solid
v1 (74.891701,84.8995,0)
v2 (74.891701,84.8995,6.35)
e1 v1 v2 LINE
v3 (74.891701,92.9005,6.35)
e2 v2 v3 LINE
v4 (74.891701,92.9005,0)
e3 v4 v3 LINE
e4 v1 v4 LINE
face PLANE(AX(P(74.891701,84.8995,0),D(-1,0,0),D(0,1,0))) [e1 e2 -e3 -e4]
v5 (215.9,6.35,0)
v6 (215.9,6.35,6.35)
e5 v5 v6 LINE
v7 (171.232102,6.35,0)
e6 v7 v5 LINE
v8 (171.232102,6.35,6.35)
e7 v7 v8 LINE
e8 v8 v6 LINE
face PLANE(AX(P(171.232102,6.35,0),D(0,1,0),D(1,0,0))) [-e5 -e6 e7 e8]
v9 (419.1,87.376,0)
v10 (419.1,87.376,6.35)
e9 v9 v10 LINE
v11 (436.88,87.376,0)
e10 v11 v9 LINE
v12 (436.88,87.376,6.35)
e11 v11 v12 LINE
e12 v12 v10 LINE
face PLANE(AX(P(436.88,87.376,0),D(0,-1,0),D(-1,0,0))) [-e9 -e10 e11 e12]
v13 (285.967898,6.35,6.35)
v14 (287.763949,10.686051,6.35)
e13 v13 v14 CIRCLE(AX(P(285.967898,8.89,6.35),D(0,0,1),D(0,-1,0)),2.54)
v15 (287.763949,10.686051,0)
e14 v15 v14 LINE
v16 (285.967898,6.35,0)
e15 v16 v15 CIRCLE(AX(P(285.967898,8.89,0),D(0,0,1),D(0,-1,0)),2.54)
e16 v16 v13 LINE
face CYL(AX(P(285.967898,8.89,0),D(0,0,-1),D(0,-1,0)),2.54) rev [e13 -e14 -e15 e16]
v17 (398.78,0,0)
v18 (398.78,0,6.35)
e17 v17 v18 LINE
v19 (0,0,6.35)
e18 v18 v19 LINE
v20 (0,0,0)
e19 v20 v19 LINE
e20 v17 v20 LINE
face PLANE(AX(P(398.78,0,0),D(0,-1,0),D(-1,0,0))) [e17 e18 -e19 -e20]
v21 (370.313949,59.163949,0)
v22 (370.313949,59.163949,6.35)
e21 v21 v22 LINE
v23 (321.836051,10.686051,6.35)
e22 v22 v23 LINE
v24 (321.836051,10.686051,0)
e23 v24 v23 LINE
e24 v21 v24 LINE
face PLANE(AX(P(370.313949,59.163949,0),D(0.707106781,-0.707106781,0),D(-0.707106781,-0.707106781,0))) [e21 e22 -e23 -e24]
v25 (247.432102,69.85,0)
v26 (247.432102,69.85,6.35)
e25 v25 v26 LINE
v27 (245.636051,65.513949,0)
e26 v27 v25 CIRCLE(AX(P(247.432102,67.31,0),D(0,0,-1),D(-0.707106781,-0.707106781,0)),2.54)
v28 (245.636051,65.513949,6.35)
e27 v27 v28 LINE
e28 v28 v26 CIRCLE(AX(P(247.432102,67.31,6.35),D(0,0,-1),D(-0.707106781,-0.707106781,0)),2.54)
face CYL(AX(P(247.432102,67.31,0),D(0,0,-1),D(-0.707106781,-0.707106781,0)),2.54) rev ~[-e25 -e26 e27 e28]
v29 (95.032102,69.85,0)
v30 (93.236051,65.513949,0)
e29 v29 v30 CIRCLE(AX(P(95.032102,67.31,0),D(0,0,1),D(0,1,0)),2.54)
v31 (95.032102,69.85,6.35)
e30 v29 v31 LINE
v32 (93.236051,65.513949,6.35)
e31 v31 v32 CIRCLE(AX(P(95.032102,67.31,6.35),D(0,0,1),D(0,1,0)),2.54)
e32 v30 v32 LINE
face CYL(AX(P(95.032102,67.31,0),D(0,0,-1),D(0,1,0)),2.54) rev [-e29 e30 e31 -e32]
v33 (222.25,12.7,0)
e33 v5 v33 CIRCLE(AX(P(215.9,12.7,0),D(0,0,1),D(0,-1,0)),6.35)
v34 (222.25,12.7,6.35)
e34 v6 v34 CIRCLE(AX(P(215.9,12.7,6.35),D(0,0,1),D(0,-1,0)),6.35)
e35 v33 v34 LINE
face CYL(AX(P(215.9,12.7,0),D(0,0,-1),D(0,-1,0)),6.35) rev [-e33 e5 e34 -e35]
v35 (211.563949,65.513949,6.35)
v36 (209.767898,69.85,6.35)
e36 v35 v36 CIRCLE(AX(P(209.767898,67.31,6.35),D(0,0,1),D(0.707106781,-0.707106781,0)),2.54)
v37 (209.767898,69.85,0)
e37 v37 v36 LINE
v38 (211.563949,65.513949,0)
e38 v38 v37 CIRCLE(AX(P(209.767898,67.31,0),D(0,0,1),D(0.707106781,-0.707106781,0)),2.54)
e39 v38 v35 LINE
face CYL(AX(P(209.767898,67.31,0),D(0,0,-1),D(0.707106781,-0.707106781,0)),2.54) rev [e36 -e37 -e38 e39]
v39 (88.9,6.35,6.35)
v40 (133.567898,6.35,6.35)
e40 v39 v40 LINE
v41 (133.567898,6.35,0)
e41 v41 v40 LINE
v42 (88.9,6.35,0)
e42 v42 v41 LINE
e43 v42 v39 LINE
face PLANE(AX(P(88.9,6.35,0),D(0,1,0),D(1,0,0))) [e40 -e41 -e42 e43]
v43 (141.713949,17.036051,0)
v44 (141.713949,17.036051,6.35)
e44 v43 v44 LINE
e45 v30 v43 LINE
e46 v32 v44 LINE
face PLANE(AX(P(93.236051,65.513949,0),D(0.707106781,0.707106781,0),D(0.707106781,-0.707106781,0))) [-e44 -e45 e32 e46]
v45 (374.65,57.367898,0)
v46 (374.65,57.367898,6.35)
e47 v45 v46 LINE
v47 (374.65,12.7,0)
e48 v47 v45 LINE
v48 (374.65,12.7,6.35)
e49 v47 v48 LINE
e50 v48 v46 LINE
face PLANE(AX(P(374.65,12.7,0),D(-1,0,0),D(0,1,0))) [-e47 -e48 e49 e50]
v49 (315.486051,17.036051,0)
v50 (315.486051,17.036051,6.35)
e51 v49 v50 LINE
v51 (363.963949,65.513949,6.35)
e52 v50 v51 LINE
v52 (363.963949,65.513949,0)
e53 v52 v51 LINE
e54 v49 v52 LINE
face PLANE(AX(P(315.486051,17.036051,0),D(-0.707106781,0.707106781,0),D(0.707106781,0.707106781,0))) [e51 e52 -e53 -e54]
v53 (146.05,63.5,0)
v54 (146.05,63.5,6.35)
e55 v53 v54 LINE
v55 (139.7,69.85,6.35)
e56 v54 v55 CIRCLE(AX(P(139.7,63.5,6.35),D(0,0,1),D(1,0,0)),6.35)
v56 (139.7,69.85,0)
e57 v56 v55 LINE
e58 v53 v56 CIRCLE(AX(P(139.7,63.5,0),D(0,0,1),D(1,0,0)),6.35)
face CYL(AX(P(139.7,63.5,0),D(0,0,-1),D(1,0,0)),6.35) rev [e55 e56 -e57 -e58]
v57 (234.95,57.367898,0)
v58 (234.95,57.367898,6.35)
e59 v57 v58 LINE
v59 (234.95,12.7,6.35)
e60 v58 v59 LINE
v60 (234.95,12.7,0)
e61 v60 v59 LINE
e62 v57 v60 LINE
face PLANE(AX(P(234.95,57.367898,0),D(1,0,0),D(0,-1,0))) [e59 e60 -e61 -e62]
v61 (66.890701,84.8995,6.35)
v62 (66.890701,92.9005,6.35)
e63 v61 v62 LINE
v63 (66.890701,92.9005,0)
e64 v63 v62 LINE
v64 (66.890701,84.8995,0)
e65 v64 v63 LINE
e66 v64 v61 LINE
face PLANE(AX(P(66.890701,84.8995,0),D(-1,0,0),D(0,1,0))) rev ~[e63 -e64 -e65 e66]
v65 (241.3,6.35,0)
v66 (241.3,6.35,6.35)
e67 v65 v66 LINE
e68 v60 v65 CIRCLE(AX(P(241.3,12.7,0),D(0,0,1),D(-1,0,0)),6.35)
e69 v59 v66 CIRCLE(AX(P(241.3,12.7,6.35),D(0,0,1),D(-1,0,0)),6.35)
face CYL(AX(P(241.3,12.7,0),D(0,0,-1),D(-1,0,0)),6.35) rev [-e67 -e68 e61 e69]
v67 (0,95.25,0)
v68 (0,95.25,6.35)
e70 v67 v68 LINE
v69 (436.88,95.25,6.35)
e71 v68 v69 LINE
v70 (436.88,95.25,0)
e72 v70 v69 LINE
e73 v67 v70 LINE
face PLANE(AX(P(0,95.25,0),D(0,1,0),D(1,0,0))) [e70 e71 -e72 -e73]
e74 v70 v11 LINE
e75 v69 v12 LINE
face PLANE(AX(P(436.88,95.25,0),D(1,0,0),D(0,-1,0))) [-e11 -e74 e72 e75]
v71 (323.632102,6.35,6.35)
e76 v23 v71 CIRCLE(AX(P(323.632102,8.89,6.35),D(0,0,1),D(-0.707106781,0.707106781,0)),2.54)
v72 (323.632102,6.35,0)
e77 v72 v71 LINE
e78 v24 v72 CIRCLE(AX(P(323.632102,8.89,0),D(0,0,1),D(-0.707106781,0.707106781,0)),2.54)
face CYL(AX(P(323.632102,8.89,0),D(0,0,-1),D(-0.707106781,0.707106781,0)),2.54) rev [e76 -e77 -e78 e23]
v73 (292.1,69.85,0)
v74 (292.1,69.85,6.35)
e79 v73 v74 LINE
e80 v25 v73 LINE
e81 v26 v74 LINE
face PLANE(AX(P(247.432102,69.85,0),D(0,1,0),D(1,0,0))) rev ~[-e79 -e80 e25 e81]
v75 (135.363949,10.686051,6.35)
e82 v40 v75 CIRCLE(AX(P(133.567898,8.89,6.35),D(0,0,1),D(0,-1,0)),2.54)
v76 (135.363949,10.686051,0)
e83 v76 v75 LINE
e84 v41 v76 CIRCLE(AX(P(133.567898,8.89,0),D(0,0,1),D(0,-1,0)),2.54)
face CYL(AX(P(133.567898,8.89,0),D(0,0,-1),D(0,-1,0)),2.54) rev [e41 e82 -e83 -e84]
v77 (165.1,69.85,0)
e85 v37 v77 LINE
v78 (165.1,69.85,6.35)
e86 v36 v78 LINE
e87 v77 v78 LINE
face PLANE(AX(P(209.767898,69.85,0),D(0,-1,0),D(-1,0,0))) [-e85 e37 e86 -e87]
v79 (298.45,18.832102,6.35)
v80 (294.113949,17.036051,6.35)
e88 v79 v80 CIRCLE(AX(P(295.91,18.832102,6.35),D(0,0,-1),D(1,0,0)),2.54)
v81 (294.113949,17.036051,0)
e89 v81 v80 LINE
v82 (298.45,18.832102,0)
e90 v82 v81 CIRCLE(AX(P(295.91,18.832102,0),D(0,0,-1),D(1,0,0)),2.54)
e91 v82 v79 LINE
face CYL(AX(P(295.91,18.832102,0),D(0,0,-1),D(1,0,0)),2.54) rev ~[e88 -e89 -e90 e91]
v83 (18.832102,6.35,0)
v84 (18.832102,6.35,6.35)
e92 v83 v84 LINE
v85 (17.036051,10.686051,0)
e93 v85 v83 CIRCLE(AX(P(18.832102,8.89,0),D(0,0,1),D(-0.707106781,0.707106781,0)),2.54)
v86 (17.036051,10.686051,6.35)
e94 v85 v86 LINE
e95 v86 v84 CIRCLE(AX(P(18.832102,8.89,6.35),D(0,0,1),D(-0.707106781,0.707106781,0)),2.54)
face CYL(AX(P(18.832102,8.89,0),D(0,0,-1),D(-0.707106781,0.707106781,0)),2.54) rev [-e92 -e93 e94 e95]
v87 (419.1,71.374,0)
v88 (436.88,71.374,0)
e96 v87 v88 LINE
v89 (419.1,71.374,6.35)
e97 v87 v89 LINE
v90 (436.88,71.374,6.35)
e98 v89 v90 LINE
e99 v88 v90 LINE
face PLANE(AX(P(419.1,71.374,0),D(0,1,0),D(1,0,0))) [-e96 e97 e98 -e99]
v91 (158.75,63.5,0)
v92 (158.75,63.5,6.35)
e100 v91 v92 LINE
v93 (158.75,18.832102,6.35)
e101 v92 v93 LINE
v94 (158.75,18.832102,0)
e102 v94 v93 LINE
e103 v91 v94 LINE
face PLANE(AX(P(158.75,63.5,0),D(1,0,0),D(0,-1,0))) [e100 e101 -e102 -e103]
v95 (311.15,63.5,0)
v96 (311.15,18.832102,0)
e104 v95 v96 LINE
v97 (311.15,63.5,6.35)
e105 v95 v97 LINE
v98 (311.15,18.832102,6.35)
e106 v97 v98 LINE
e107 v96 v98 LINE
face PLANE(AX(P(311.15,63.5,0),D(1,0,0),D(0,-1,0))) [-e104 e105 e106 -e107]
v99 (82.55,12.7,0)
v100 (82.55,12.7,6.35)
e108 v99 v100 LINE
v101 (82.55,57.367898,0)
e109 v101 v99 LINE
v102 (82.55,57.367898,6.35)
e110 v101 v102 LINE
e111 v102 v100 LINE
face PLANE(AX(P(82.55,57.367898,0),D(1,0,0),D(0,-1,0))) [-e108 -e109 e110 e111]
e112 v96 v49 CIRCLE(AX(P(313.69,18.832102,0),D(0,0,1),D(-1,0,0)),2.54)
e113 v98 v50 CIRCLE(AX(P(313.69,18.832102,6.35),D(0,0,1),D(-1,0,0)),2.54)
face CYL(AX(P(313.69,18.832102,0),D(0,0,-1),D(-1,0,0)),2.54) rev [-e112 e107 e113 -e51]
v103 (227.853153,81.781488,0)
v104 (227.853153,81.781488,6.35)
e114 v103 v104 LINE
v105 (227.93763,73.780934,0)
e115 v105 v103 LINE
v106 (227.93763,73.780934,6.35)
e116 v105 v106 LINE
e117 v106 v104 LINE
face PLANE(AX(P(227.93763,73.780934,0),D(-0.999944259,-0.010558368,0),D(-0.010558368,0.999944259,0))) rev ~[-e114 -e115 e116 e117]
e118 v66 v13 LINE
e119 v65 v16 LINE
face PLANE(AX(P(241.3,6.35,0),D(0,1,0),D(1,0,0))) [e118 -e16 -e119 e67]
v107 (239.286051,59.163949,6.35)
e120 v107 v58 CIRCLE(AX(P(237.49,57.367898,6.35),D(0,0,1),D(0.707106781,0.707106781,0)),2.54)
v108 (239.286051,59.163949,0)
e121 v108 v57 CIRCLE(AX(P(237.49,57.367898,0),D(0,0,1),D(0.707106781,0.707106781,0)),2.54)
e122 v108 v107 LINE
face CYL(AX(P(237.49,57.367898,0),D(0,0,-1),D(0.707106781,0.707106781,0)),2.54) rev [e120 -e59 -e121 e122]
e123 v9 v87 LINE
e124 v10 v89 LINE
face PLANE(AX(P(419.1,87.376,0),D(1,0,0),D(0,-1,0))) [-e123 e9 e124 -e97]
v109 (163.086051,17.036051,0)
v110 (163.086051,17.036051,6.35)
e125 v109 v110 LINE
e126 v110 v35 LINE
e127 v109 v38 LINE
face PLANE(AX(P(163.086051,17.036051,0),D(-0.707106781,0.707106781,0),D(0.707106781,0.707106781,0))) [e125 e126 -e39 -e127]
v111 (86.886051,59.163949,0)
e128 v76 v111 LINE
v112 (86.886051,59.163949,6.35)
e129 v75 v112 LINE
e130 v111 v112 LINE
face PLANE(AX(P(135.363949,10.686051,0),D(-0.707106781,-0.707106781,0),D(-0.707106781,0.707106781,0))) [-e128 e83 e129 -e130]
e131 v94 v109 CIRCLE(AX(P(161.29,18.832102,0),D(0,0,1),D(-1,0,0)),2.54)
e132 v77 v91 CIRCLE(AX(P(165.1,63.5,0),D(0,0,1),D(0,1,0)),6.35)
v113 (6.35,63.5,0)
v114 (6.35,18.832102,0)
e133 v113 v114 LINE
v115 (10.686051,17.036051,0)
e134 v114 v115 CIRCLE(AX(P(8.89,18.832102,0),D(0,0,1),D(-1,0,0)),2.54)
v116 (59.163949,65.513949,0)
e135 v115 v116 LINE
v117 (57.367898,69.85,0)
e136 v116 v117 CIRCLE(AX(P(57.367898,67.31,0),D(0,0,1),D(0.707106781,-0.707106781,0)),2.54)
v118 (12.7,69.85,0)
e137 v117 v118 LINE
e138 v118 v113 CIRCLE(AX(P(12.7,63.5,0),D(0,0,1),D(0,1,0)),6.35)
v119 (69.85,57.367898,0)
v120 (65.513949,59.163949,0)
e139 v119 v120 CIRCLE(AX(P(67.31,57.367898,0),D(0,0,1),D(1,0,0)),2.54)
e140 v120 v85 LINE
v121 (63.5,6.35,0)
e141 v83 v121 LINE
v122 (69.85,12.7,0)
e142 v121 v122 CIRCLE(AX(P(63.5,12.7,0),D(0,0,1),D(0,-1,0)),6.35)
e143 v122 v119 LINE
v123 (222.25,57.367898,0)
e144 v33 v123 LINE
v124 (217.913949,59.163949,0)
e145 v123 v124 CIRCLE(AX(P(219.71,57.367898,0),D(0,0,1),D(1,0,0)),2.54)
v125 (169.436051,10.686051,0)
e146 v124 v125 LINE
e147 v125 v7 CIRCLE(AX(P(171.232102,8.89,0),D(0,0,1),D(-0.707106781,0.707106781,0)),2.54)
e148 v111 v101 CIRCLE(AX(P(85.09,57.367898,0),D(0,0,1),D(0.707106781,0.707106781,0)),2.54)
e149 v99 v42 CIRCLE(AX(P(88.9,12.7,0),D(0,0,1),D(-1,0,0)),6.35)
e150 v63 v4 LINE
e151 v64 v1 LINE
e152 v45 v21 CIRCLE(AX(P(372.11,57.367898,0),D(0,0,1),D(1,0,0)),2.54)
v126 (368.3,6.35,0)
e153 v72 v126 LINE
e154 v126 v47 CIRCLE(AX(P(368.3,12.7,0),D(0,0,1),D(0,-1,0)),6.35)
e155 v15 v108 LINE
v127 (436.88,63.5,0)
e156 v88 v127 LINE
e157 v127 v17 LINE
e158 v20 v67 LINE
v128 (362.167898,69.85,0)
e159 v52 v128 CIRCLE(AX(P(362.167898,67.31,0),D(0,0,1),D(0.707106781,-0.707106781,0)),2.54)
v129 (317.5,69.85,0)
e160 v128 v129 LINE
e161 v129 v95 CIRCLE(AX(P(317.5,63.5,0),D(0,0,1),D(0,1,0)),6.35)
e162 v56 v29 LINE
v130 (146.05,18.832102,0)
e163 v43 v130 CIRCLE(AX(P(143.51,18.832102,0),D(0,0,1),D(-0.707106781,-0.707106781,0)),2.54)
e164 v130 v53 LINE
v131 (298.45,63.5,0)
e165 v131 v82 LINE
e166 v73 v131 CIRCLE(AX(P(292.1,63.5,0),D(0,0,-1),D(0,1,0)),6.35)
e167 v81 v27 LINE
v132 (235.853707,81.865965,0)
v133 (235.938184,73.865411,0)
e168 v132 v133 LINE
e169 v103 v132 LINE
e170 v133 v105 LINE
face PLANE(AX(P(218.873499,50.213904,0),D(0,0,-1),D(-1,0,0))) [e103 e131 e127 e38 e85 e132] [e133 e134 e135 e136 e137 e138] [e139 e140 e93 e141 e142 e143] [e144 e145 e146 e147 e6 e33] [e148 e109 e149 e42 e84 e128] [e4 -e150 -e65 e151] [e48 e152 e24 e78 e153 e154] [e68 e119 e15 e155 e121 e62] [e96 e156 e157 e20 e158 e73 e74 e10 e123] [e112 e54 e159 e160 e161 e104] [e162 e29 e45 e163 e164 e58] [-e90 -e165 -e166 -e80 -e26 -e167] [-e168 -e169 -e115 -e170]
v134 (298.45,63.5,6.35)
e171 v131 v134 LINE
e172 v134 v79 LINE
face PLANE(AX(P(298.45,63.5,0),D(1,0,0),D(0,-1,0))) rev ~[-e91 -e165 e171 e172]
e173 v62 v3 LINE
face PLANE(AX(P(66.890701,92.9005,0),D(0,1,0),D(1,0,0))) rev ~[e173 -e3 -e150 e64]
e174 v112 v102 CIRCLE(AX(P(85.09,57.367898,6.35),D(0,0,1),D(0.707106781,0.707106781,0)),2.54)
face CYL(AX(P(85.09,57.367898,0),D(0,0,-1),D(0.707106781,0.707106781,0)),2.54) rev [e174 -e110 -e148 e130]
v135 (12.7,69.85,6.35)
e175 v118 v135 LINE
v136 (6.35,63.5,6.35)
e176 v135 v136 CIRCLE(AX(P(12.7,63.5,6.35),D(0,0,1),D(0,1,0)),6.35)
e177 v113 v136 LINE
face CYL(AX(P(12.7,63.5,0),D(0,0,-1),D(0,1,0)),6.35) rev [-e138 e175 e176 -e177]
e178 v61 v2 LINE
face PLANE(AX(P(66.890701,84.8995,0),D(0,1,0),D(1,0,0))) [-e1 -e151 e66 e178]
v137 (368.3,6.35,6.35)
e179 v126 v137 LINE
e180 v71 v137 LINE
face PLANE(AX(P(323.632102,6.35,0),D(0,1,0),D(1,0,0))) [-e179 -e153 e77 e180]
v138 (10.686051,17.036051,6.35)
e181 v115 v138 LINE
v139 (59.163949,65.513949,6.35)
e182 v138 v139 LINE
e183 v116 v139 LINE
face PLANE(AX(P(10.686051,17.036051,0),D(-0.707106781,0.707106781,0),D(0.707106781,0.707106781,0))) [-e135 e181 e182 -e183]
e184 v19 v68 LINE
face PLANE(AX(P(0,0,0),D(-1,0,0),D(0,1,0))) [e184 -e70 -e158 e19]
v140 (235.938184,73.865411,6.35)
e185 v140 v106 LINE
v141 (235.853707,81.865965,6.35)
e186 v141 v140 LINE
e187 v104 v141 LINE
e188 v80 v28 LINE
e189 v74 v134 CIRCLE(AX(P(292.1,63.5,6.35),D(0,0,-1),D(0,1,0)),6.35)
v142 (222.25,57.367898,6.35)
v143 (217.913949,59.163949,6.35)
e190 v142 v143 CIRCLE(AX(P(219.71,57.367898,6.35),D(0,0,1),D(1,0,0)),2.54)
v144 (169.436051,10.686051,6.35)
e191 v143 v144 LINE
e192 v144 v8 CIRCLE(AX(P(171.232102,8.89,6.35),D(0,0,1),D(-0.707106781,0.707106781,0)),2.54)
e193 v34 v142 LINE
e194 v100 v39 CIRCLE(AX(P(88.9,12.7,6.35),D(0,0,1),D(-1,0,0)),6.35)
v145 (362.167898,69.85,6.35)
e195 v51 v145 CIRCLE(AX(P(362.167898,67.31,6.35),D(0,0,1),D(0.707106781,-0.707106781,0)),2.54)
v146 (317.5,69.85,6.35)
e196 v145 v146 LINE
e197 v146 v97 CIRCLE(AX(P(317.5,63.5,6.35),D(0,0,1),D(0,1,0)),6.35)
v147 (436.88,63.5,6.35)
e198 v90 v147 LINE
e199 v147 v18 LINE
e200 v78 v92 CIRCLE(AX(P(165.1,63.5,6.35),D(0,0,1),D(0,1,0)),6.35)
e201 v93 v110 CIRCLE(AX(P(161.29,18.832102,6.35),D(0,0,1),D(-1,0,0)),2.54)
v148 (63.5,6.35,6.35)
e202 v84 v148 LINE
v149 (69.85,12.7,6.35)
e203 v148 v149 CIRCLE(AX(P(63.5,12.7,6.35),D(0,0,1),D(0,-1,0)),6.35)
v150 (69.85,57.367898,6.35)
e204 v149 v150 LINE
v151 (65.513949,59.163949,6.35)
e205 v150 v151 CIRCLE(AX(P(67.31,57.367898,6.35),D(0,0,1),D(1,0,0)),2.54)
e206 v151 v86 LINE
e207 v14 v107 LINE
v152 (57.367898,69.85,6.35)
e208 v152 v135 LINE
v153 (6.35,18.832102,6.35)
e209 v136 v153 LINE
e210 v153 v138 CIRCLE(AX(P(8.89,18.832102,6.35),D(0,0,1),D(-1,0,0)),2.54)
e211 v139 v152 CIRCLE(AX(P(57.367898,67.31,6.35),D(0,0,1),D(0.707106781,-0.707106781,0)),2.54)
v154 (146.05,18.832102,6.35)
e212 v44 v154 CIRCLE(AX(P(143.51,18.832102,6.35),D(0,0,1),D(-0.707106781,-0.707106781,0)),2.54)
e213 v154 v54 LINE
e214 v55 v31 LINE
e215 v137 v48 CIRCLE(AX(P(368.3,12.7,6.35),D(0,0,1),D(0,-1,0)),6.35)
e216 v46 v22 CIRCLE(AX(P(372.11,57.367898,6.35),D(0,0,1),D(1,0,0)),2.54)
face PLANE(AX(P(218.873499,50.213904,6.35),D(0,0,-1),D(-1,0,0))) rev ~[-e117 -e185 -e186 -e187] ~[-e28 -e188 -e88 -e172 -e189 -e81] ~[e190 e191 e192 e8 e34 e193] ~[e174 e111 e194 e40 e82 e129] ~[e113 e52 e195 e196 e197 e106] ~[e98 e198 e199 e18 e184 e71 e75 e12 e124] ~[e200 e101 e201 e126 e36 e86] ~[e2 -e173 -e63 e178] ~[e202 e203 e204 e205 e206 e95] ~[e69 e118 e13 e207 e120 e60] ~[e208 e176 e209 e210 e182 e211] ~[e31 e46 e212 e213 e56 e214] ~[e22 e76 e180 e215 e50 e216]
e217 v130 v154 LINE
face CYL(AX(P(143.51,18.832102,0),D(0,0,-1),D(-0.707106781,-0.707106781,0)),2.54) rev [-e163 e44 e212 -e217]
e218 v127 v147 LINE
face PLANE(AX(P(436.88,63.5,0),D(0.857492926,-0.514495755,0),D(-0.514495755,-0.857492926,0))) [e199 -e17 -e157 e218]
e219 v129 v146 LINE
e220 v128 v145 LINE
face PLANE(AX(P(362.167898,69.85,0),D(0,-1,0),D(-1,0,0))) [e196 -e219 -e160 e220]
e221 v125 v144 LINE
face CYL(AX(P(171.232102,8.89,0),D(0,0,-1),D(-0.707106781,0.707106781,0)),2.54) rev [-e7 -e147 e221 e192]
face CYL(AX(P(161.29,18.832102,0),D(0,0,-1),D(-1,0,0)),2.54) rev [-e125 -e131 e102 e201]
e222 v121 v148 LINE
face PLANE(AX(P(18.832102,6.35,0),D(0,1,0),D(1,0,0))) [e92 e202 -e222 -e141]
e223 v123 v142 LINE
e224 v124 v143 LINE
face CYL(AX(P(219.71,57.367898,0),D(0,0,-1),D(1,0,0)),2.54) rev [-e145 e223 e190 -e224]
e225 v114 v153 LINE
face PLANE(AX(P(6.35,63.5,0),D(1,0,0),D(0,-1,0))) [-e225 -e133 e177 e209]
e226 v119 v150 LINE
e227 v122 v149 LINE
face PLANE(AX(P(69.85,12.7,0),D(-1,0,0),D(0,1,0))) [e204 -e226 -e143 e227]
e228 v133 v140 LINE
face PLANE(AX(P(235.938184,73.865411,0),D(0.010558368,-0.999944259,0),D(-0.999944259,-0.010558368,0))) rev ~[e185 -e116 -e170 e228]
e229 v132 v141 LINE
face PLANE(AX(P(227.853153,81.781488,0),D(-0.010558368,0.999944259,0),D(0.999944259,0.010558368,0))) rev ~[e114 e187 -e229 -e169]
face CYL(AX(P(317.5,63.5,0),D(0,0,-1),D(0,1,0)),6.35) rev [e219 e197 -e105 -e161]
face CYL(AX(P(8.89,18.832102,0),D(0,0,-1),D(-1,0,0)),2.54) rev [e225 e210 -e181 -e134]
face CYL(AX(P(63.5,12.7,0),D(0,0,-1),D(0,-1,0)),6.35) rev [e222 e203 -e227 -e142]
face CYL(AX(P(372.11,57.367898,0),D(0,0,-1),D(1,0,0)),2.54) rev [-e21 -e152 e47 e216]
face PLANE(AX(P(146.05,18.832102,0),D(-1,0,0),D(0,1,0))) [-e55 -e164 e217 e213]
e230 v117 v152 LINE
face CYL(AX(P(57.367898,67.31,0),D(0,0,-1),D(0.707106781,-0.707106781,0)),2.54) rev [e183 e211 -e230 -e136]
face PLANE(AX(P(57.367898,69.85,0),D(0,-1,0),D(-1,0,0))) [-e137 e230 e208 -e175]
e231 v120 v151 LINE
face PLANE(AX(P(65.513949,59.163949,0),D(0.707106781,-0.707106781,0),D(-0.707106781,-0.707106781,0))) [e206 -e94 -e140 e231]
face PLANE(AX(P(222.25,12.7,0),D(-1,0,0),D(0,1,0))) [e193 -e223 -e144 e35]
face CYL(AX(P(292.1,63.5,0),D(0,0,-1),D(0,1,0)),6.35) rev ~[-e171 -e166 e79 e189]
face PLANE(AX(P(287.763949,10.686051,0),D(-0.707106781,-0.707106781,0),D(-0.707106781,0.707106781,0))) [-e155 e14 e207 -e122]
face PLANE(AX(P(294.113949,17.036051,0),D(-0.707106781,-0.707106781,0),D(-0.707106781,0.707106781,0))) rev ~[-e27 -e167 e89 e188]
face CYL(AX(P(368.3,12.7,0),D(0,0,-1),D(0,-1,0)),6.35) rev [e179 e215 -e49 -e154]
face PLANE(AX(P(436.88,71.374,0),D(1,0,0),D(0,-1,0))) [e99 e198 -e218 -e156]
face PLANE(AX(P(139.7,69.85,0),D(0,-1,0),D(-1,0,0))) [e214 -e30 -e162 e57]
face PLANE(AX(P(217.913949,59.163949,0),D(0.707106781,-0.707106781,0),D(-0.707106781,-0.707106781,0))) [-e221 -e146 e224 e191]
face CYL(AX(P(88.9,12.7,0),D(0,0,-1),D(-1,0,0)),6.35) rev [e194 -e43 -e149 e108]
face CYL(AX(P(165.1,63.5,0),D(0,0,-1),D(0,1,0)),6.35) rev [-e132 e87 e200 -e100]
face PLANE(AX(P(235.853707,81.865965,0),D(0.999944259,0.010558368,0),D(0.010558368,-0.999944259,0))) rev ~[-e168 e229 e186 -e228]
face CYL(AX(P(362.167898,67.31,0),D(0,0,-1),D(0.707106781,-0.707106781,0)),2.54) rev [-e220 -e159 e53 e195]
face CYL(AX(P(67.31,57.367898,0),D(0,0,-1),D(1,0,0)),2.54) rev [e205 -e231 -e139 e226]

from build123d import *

# Parameters (mm, degrees)
MODEL_W             = 8.001
MODEL_H             = 8.001
BOSS_EXTRUDE2_DEPTH = 6.35


with BuildPart() as part:
    # Model → Boss-Extrude2 (new body)
    with BuildSketch(Plane.XY):
        Polygon((419.1, 87.376), (419.1, 71.374), (436.88, 71.374), (436.88, 63.5), (398.78, 0), (0, 0), (0, 95.25), (436.88, 95.25), (436.88, 87.376), align=None)
        with Locations((70.891200524, 88.9)):
            Rectangle(MODEL_W, MODEL_H, mode=Mode.SUBTRACT)
        Polygon((235.853706977, 81.865965064), (235.938184476, 73.865411048), (227.937630461, 73.780933549), (227.853152962, 81.781487564), align=None, mode=Mode.SUBTRACT)
        with BuildLine():
            Line((171.232102448, 6.35), (215.9, 6.35))
            ThreePointArc((215.9, 6.35), (220.390128061, 8.209871939), (222.25, 12.7))
            Line((222.25, 12.7), (222.25, 57.367897552))
            ThreePointArc((222.25, 57.367897552), (220.682015918, 59.714551565), (217.913948776, 59.163948776))
            Line((217.913948776, 59.163948776), (169.436051224, 10.686051224))
            ThreePointArc((169.436051224, 10.686051224), (168.885448435, 7.917984082), (171.232102448, 6.35))
        make_face(mode=Mode.SUBTRACT)
        with BuildLine():
            Line((234.95, 57.367897552), (234.95, 12.7))
            ThreePointArc((234.95, 12.7), (236.809871939, 8.209871939), (241.3, 6.35))
            Line((241.3, 6.35), (285.967897552, 6.35))
            ThreePointArc((285.967897552, 6.35), (288.314551565, 7.917984082), (287.763948776, 10.686051224))
            Line((287.763948776, 10.686051224), (239.286051224, 59.163948776))
            ThreePointArc((239.286051224, 59.163948776), (236.517984082, 59.714551565), (234.95, 57.367897552))
        make_face(mode=Mode.SUBTRACT)
        with BuildLine():
            Line((294.113948776, 17.036051224), (245.636051224, 65.513948776))
            ThreePointArc((245.636051224, 65.513948776), (245.085448435, 68.282015918), (247.432102448, 69.85))
            Line((247.432102448, 69.85), (292.1, 69.85))
            ThreePointArc((292.1, 69.85), (296.590128061, 67.990128061), (298.45, 63.5))
            Line((298.45, 63.5), (298.45, 18.832102448))
            ThreePointArc((298.45, 18.832102448), (296.882015918, 16.485448435), (294.113948776, 17.036051224))
        make_face(mode=Mode.SUBTRACT)
        with BuildLine():
            Line((323.632102448, 6.35), (368.3, 6.35))
            ThreePointArc((368.3, 6.35), (372.790128061, 8.209871939), (374.65, 12.7))
            Line((374.65, 12.7), (374.65, 57.367897552))
            ThreePointArc((374.65, 57.367897552), (373.082015918, 59.714551565), (370.313948776, 59.163948776))
            Line((370.313948776, 59.163948776), (321.836051224, 10.686051224))
            ThreePointArc((321.836051224, 10.686051224), (321.285448435, 7.917984082), (323.632102448, 6.35))
        make_face(mode=Mode.SUBTRACT)
        with BuildLine():
            Line((18.832102448, 6.35), (63.5, 6.35))
            ThreePointArc((63.5, 6.35), (67.990128061, 8.209871939), (69.85, 12.7))
            Line((69.85, 12.7), (69.85, 57.367897552))
            ThreePointArc((69.85, 57.367897552), (68.282015918, 59.714551565), (65.513948776, 59.163948776))
            Line((65.513948776, 59.163948776), (17.036051224, 10.686051224))
            ThreePointArc((17.036051224, 10.686051224), (16.485448435, 7.917984082), (18.832102448, 6.35))
        make_face(mode=Mode.SUBTRACT)
        with BuildLine():
            Line((82.55, 57.367897552), (82.55, 12.7))
            ThreePointArc((82.55, 12.7), (84.409871939, 8.209871939), (88.9, 6.35))
            Line((88.9, 6.35), (133.567897552, 6.35))
            ThreePointArc((133.567897552, 6.35), (135.914551565, 7.917984082), (135.363948776, 10.686051224))
            Line((135.363948776, 10.686051224), (86.886051224, 59.163948776))
            ThreePointArc((86.886051224, 59.163948776), (84.117984082, 59.714551565), (82.55, 57.367897552))
        make_face(mode=Mode.SUBTRACT)
        with BuildLine():
            Line((93.236051224, 65.513948776), (141.713948776, 17.036051224))
            ThreePointArc((141.713948776, 17.036051224), (144.482015918, 16.485448435), (146.05, 18.832102448))
            Line((146.05, 18.832102448), (146.05, 63.5))
            ThreePointArc((146.05, 63.5), (144.190128061, 67.990128061), (139.7, 69.85))
            Line((139.7, 69.85), (95.032102448, 69.85))
            ThreePointArc((95.032102448, 69.85), (92.685448435, 68.282015918), (93.236051224, 65.513948776))
        make_face(mode=Mode.SUBTRACT)
        with BuildLine():
            Line((163.086051224, 17.036051224), (211.563948776, 65.513948776))
            ThreePointArc((211.563948776, 65.513948776), (212.114551565, 68.282015918), (209.767897552, 69.85))
            Line((209.767897552, 69.85), (165.1, 69.85))
            ThreePointArc((165.1, 69.85), (160.609871939, 67.990128061), (158.75, 63.5))
            Line((158.75, 63.5), (158.75, 18.832102448))
            ThreePointArc((158.75, 18.832102448), (160.317984082, 16.485448435), (163.086051224, 17.036051224))
        make_face(mode=Mode.SUBTRACT)
        with BuildLine():
            Line((315.486051224, 17.036051224), (363.963948776, 65.513948776))
            ThreePointArc((363.963948776, 65.513948776), (364.514551565, 68.282015918), (362.167897552, 69.85))
            Line((362.167897552, 69.85), (317.5, 69.85))
            ThreePointArc((317.5, 69.85), (313.009871939, 67.990128061), (311.15, 63.5))
            Line((311.15, 63.5), (311.15, 18.832102448))
            ThreePointArc((311.15, 18.832102448), (312.717984082, 16.485448435), (315.486051224, 17.036051224))
        make_face(mode=Mode.SUBTRACT)
        with BuildLine():
            Line((6.35, 63.5), (6.35, 18.832102448))
            ThreePointArc((6.35, 18.832102448), (7.917984082, 16.485448435), (10.686051224, 17.036051224))
            Line((10.686051224, 17.036051224), (59.163948776, 65.513948776))
            ThreePointArc((59.163948776, 65.513948776), (59.714551565, 68.282015918), (57.367897552, 69.85))
            Line((57.367897552, 69.85), (12.7, 69.85))
            ThreePointArc((12.7, 69.85), (8.209871939, 67.990128061), (6.35, 63.5))
        make_face(mode=Mode.SUBTRACT)
    extrude(amount=BOSS_EXTRUDE2_DEPTH)


solid = part.part
